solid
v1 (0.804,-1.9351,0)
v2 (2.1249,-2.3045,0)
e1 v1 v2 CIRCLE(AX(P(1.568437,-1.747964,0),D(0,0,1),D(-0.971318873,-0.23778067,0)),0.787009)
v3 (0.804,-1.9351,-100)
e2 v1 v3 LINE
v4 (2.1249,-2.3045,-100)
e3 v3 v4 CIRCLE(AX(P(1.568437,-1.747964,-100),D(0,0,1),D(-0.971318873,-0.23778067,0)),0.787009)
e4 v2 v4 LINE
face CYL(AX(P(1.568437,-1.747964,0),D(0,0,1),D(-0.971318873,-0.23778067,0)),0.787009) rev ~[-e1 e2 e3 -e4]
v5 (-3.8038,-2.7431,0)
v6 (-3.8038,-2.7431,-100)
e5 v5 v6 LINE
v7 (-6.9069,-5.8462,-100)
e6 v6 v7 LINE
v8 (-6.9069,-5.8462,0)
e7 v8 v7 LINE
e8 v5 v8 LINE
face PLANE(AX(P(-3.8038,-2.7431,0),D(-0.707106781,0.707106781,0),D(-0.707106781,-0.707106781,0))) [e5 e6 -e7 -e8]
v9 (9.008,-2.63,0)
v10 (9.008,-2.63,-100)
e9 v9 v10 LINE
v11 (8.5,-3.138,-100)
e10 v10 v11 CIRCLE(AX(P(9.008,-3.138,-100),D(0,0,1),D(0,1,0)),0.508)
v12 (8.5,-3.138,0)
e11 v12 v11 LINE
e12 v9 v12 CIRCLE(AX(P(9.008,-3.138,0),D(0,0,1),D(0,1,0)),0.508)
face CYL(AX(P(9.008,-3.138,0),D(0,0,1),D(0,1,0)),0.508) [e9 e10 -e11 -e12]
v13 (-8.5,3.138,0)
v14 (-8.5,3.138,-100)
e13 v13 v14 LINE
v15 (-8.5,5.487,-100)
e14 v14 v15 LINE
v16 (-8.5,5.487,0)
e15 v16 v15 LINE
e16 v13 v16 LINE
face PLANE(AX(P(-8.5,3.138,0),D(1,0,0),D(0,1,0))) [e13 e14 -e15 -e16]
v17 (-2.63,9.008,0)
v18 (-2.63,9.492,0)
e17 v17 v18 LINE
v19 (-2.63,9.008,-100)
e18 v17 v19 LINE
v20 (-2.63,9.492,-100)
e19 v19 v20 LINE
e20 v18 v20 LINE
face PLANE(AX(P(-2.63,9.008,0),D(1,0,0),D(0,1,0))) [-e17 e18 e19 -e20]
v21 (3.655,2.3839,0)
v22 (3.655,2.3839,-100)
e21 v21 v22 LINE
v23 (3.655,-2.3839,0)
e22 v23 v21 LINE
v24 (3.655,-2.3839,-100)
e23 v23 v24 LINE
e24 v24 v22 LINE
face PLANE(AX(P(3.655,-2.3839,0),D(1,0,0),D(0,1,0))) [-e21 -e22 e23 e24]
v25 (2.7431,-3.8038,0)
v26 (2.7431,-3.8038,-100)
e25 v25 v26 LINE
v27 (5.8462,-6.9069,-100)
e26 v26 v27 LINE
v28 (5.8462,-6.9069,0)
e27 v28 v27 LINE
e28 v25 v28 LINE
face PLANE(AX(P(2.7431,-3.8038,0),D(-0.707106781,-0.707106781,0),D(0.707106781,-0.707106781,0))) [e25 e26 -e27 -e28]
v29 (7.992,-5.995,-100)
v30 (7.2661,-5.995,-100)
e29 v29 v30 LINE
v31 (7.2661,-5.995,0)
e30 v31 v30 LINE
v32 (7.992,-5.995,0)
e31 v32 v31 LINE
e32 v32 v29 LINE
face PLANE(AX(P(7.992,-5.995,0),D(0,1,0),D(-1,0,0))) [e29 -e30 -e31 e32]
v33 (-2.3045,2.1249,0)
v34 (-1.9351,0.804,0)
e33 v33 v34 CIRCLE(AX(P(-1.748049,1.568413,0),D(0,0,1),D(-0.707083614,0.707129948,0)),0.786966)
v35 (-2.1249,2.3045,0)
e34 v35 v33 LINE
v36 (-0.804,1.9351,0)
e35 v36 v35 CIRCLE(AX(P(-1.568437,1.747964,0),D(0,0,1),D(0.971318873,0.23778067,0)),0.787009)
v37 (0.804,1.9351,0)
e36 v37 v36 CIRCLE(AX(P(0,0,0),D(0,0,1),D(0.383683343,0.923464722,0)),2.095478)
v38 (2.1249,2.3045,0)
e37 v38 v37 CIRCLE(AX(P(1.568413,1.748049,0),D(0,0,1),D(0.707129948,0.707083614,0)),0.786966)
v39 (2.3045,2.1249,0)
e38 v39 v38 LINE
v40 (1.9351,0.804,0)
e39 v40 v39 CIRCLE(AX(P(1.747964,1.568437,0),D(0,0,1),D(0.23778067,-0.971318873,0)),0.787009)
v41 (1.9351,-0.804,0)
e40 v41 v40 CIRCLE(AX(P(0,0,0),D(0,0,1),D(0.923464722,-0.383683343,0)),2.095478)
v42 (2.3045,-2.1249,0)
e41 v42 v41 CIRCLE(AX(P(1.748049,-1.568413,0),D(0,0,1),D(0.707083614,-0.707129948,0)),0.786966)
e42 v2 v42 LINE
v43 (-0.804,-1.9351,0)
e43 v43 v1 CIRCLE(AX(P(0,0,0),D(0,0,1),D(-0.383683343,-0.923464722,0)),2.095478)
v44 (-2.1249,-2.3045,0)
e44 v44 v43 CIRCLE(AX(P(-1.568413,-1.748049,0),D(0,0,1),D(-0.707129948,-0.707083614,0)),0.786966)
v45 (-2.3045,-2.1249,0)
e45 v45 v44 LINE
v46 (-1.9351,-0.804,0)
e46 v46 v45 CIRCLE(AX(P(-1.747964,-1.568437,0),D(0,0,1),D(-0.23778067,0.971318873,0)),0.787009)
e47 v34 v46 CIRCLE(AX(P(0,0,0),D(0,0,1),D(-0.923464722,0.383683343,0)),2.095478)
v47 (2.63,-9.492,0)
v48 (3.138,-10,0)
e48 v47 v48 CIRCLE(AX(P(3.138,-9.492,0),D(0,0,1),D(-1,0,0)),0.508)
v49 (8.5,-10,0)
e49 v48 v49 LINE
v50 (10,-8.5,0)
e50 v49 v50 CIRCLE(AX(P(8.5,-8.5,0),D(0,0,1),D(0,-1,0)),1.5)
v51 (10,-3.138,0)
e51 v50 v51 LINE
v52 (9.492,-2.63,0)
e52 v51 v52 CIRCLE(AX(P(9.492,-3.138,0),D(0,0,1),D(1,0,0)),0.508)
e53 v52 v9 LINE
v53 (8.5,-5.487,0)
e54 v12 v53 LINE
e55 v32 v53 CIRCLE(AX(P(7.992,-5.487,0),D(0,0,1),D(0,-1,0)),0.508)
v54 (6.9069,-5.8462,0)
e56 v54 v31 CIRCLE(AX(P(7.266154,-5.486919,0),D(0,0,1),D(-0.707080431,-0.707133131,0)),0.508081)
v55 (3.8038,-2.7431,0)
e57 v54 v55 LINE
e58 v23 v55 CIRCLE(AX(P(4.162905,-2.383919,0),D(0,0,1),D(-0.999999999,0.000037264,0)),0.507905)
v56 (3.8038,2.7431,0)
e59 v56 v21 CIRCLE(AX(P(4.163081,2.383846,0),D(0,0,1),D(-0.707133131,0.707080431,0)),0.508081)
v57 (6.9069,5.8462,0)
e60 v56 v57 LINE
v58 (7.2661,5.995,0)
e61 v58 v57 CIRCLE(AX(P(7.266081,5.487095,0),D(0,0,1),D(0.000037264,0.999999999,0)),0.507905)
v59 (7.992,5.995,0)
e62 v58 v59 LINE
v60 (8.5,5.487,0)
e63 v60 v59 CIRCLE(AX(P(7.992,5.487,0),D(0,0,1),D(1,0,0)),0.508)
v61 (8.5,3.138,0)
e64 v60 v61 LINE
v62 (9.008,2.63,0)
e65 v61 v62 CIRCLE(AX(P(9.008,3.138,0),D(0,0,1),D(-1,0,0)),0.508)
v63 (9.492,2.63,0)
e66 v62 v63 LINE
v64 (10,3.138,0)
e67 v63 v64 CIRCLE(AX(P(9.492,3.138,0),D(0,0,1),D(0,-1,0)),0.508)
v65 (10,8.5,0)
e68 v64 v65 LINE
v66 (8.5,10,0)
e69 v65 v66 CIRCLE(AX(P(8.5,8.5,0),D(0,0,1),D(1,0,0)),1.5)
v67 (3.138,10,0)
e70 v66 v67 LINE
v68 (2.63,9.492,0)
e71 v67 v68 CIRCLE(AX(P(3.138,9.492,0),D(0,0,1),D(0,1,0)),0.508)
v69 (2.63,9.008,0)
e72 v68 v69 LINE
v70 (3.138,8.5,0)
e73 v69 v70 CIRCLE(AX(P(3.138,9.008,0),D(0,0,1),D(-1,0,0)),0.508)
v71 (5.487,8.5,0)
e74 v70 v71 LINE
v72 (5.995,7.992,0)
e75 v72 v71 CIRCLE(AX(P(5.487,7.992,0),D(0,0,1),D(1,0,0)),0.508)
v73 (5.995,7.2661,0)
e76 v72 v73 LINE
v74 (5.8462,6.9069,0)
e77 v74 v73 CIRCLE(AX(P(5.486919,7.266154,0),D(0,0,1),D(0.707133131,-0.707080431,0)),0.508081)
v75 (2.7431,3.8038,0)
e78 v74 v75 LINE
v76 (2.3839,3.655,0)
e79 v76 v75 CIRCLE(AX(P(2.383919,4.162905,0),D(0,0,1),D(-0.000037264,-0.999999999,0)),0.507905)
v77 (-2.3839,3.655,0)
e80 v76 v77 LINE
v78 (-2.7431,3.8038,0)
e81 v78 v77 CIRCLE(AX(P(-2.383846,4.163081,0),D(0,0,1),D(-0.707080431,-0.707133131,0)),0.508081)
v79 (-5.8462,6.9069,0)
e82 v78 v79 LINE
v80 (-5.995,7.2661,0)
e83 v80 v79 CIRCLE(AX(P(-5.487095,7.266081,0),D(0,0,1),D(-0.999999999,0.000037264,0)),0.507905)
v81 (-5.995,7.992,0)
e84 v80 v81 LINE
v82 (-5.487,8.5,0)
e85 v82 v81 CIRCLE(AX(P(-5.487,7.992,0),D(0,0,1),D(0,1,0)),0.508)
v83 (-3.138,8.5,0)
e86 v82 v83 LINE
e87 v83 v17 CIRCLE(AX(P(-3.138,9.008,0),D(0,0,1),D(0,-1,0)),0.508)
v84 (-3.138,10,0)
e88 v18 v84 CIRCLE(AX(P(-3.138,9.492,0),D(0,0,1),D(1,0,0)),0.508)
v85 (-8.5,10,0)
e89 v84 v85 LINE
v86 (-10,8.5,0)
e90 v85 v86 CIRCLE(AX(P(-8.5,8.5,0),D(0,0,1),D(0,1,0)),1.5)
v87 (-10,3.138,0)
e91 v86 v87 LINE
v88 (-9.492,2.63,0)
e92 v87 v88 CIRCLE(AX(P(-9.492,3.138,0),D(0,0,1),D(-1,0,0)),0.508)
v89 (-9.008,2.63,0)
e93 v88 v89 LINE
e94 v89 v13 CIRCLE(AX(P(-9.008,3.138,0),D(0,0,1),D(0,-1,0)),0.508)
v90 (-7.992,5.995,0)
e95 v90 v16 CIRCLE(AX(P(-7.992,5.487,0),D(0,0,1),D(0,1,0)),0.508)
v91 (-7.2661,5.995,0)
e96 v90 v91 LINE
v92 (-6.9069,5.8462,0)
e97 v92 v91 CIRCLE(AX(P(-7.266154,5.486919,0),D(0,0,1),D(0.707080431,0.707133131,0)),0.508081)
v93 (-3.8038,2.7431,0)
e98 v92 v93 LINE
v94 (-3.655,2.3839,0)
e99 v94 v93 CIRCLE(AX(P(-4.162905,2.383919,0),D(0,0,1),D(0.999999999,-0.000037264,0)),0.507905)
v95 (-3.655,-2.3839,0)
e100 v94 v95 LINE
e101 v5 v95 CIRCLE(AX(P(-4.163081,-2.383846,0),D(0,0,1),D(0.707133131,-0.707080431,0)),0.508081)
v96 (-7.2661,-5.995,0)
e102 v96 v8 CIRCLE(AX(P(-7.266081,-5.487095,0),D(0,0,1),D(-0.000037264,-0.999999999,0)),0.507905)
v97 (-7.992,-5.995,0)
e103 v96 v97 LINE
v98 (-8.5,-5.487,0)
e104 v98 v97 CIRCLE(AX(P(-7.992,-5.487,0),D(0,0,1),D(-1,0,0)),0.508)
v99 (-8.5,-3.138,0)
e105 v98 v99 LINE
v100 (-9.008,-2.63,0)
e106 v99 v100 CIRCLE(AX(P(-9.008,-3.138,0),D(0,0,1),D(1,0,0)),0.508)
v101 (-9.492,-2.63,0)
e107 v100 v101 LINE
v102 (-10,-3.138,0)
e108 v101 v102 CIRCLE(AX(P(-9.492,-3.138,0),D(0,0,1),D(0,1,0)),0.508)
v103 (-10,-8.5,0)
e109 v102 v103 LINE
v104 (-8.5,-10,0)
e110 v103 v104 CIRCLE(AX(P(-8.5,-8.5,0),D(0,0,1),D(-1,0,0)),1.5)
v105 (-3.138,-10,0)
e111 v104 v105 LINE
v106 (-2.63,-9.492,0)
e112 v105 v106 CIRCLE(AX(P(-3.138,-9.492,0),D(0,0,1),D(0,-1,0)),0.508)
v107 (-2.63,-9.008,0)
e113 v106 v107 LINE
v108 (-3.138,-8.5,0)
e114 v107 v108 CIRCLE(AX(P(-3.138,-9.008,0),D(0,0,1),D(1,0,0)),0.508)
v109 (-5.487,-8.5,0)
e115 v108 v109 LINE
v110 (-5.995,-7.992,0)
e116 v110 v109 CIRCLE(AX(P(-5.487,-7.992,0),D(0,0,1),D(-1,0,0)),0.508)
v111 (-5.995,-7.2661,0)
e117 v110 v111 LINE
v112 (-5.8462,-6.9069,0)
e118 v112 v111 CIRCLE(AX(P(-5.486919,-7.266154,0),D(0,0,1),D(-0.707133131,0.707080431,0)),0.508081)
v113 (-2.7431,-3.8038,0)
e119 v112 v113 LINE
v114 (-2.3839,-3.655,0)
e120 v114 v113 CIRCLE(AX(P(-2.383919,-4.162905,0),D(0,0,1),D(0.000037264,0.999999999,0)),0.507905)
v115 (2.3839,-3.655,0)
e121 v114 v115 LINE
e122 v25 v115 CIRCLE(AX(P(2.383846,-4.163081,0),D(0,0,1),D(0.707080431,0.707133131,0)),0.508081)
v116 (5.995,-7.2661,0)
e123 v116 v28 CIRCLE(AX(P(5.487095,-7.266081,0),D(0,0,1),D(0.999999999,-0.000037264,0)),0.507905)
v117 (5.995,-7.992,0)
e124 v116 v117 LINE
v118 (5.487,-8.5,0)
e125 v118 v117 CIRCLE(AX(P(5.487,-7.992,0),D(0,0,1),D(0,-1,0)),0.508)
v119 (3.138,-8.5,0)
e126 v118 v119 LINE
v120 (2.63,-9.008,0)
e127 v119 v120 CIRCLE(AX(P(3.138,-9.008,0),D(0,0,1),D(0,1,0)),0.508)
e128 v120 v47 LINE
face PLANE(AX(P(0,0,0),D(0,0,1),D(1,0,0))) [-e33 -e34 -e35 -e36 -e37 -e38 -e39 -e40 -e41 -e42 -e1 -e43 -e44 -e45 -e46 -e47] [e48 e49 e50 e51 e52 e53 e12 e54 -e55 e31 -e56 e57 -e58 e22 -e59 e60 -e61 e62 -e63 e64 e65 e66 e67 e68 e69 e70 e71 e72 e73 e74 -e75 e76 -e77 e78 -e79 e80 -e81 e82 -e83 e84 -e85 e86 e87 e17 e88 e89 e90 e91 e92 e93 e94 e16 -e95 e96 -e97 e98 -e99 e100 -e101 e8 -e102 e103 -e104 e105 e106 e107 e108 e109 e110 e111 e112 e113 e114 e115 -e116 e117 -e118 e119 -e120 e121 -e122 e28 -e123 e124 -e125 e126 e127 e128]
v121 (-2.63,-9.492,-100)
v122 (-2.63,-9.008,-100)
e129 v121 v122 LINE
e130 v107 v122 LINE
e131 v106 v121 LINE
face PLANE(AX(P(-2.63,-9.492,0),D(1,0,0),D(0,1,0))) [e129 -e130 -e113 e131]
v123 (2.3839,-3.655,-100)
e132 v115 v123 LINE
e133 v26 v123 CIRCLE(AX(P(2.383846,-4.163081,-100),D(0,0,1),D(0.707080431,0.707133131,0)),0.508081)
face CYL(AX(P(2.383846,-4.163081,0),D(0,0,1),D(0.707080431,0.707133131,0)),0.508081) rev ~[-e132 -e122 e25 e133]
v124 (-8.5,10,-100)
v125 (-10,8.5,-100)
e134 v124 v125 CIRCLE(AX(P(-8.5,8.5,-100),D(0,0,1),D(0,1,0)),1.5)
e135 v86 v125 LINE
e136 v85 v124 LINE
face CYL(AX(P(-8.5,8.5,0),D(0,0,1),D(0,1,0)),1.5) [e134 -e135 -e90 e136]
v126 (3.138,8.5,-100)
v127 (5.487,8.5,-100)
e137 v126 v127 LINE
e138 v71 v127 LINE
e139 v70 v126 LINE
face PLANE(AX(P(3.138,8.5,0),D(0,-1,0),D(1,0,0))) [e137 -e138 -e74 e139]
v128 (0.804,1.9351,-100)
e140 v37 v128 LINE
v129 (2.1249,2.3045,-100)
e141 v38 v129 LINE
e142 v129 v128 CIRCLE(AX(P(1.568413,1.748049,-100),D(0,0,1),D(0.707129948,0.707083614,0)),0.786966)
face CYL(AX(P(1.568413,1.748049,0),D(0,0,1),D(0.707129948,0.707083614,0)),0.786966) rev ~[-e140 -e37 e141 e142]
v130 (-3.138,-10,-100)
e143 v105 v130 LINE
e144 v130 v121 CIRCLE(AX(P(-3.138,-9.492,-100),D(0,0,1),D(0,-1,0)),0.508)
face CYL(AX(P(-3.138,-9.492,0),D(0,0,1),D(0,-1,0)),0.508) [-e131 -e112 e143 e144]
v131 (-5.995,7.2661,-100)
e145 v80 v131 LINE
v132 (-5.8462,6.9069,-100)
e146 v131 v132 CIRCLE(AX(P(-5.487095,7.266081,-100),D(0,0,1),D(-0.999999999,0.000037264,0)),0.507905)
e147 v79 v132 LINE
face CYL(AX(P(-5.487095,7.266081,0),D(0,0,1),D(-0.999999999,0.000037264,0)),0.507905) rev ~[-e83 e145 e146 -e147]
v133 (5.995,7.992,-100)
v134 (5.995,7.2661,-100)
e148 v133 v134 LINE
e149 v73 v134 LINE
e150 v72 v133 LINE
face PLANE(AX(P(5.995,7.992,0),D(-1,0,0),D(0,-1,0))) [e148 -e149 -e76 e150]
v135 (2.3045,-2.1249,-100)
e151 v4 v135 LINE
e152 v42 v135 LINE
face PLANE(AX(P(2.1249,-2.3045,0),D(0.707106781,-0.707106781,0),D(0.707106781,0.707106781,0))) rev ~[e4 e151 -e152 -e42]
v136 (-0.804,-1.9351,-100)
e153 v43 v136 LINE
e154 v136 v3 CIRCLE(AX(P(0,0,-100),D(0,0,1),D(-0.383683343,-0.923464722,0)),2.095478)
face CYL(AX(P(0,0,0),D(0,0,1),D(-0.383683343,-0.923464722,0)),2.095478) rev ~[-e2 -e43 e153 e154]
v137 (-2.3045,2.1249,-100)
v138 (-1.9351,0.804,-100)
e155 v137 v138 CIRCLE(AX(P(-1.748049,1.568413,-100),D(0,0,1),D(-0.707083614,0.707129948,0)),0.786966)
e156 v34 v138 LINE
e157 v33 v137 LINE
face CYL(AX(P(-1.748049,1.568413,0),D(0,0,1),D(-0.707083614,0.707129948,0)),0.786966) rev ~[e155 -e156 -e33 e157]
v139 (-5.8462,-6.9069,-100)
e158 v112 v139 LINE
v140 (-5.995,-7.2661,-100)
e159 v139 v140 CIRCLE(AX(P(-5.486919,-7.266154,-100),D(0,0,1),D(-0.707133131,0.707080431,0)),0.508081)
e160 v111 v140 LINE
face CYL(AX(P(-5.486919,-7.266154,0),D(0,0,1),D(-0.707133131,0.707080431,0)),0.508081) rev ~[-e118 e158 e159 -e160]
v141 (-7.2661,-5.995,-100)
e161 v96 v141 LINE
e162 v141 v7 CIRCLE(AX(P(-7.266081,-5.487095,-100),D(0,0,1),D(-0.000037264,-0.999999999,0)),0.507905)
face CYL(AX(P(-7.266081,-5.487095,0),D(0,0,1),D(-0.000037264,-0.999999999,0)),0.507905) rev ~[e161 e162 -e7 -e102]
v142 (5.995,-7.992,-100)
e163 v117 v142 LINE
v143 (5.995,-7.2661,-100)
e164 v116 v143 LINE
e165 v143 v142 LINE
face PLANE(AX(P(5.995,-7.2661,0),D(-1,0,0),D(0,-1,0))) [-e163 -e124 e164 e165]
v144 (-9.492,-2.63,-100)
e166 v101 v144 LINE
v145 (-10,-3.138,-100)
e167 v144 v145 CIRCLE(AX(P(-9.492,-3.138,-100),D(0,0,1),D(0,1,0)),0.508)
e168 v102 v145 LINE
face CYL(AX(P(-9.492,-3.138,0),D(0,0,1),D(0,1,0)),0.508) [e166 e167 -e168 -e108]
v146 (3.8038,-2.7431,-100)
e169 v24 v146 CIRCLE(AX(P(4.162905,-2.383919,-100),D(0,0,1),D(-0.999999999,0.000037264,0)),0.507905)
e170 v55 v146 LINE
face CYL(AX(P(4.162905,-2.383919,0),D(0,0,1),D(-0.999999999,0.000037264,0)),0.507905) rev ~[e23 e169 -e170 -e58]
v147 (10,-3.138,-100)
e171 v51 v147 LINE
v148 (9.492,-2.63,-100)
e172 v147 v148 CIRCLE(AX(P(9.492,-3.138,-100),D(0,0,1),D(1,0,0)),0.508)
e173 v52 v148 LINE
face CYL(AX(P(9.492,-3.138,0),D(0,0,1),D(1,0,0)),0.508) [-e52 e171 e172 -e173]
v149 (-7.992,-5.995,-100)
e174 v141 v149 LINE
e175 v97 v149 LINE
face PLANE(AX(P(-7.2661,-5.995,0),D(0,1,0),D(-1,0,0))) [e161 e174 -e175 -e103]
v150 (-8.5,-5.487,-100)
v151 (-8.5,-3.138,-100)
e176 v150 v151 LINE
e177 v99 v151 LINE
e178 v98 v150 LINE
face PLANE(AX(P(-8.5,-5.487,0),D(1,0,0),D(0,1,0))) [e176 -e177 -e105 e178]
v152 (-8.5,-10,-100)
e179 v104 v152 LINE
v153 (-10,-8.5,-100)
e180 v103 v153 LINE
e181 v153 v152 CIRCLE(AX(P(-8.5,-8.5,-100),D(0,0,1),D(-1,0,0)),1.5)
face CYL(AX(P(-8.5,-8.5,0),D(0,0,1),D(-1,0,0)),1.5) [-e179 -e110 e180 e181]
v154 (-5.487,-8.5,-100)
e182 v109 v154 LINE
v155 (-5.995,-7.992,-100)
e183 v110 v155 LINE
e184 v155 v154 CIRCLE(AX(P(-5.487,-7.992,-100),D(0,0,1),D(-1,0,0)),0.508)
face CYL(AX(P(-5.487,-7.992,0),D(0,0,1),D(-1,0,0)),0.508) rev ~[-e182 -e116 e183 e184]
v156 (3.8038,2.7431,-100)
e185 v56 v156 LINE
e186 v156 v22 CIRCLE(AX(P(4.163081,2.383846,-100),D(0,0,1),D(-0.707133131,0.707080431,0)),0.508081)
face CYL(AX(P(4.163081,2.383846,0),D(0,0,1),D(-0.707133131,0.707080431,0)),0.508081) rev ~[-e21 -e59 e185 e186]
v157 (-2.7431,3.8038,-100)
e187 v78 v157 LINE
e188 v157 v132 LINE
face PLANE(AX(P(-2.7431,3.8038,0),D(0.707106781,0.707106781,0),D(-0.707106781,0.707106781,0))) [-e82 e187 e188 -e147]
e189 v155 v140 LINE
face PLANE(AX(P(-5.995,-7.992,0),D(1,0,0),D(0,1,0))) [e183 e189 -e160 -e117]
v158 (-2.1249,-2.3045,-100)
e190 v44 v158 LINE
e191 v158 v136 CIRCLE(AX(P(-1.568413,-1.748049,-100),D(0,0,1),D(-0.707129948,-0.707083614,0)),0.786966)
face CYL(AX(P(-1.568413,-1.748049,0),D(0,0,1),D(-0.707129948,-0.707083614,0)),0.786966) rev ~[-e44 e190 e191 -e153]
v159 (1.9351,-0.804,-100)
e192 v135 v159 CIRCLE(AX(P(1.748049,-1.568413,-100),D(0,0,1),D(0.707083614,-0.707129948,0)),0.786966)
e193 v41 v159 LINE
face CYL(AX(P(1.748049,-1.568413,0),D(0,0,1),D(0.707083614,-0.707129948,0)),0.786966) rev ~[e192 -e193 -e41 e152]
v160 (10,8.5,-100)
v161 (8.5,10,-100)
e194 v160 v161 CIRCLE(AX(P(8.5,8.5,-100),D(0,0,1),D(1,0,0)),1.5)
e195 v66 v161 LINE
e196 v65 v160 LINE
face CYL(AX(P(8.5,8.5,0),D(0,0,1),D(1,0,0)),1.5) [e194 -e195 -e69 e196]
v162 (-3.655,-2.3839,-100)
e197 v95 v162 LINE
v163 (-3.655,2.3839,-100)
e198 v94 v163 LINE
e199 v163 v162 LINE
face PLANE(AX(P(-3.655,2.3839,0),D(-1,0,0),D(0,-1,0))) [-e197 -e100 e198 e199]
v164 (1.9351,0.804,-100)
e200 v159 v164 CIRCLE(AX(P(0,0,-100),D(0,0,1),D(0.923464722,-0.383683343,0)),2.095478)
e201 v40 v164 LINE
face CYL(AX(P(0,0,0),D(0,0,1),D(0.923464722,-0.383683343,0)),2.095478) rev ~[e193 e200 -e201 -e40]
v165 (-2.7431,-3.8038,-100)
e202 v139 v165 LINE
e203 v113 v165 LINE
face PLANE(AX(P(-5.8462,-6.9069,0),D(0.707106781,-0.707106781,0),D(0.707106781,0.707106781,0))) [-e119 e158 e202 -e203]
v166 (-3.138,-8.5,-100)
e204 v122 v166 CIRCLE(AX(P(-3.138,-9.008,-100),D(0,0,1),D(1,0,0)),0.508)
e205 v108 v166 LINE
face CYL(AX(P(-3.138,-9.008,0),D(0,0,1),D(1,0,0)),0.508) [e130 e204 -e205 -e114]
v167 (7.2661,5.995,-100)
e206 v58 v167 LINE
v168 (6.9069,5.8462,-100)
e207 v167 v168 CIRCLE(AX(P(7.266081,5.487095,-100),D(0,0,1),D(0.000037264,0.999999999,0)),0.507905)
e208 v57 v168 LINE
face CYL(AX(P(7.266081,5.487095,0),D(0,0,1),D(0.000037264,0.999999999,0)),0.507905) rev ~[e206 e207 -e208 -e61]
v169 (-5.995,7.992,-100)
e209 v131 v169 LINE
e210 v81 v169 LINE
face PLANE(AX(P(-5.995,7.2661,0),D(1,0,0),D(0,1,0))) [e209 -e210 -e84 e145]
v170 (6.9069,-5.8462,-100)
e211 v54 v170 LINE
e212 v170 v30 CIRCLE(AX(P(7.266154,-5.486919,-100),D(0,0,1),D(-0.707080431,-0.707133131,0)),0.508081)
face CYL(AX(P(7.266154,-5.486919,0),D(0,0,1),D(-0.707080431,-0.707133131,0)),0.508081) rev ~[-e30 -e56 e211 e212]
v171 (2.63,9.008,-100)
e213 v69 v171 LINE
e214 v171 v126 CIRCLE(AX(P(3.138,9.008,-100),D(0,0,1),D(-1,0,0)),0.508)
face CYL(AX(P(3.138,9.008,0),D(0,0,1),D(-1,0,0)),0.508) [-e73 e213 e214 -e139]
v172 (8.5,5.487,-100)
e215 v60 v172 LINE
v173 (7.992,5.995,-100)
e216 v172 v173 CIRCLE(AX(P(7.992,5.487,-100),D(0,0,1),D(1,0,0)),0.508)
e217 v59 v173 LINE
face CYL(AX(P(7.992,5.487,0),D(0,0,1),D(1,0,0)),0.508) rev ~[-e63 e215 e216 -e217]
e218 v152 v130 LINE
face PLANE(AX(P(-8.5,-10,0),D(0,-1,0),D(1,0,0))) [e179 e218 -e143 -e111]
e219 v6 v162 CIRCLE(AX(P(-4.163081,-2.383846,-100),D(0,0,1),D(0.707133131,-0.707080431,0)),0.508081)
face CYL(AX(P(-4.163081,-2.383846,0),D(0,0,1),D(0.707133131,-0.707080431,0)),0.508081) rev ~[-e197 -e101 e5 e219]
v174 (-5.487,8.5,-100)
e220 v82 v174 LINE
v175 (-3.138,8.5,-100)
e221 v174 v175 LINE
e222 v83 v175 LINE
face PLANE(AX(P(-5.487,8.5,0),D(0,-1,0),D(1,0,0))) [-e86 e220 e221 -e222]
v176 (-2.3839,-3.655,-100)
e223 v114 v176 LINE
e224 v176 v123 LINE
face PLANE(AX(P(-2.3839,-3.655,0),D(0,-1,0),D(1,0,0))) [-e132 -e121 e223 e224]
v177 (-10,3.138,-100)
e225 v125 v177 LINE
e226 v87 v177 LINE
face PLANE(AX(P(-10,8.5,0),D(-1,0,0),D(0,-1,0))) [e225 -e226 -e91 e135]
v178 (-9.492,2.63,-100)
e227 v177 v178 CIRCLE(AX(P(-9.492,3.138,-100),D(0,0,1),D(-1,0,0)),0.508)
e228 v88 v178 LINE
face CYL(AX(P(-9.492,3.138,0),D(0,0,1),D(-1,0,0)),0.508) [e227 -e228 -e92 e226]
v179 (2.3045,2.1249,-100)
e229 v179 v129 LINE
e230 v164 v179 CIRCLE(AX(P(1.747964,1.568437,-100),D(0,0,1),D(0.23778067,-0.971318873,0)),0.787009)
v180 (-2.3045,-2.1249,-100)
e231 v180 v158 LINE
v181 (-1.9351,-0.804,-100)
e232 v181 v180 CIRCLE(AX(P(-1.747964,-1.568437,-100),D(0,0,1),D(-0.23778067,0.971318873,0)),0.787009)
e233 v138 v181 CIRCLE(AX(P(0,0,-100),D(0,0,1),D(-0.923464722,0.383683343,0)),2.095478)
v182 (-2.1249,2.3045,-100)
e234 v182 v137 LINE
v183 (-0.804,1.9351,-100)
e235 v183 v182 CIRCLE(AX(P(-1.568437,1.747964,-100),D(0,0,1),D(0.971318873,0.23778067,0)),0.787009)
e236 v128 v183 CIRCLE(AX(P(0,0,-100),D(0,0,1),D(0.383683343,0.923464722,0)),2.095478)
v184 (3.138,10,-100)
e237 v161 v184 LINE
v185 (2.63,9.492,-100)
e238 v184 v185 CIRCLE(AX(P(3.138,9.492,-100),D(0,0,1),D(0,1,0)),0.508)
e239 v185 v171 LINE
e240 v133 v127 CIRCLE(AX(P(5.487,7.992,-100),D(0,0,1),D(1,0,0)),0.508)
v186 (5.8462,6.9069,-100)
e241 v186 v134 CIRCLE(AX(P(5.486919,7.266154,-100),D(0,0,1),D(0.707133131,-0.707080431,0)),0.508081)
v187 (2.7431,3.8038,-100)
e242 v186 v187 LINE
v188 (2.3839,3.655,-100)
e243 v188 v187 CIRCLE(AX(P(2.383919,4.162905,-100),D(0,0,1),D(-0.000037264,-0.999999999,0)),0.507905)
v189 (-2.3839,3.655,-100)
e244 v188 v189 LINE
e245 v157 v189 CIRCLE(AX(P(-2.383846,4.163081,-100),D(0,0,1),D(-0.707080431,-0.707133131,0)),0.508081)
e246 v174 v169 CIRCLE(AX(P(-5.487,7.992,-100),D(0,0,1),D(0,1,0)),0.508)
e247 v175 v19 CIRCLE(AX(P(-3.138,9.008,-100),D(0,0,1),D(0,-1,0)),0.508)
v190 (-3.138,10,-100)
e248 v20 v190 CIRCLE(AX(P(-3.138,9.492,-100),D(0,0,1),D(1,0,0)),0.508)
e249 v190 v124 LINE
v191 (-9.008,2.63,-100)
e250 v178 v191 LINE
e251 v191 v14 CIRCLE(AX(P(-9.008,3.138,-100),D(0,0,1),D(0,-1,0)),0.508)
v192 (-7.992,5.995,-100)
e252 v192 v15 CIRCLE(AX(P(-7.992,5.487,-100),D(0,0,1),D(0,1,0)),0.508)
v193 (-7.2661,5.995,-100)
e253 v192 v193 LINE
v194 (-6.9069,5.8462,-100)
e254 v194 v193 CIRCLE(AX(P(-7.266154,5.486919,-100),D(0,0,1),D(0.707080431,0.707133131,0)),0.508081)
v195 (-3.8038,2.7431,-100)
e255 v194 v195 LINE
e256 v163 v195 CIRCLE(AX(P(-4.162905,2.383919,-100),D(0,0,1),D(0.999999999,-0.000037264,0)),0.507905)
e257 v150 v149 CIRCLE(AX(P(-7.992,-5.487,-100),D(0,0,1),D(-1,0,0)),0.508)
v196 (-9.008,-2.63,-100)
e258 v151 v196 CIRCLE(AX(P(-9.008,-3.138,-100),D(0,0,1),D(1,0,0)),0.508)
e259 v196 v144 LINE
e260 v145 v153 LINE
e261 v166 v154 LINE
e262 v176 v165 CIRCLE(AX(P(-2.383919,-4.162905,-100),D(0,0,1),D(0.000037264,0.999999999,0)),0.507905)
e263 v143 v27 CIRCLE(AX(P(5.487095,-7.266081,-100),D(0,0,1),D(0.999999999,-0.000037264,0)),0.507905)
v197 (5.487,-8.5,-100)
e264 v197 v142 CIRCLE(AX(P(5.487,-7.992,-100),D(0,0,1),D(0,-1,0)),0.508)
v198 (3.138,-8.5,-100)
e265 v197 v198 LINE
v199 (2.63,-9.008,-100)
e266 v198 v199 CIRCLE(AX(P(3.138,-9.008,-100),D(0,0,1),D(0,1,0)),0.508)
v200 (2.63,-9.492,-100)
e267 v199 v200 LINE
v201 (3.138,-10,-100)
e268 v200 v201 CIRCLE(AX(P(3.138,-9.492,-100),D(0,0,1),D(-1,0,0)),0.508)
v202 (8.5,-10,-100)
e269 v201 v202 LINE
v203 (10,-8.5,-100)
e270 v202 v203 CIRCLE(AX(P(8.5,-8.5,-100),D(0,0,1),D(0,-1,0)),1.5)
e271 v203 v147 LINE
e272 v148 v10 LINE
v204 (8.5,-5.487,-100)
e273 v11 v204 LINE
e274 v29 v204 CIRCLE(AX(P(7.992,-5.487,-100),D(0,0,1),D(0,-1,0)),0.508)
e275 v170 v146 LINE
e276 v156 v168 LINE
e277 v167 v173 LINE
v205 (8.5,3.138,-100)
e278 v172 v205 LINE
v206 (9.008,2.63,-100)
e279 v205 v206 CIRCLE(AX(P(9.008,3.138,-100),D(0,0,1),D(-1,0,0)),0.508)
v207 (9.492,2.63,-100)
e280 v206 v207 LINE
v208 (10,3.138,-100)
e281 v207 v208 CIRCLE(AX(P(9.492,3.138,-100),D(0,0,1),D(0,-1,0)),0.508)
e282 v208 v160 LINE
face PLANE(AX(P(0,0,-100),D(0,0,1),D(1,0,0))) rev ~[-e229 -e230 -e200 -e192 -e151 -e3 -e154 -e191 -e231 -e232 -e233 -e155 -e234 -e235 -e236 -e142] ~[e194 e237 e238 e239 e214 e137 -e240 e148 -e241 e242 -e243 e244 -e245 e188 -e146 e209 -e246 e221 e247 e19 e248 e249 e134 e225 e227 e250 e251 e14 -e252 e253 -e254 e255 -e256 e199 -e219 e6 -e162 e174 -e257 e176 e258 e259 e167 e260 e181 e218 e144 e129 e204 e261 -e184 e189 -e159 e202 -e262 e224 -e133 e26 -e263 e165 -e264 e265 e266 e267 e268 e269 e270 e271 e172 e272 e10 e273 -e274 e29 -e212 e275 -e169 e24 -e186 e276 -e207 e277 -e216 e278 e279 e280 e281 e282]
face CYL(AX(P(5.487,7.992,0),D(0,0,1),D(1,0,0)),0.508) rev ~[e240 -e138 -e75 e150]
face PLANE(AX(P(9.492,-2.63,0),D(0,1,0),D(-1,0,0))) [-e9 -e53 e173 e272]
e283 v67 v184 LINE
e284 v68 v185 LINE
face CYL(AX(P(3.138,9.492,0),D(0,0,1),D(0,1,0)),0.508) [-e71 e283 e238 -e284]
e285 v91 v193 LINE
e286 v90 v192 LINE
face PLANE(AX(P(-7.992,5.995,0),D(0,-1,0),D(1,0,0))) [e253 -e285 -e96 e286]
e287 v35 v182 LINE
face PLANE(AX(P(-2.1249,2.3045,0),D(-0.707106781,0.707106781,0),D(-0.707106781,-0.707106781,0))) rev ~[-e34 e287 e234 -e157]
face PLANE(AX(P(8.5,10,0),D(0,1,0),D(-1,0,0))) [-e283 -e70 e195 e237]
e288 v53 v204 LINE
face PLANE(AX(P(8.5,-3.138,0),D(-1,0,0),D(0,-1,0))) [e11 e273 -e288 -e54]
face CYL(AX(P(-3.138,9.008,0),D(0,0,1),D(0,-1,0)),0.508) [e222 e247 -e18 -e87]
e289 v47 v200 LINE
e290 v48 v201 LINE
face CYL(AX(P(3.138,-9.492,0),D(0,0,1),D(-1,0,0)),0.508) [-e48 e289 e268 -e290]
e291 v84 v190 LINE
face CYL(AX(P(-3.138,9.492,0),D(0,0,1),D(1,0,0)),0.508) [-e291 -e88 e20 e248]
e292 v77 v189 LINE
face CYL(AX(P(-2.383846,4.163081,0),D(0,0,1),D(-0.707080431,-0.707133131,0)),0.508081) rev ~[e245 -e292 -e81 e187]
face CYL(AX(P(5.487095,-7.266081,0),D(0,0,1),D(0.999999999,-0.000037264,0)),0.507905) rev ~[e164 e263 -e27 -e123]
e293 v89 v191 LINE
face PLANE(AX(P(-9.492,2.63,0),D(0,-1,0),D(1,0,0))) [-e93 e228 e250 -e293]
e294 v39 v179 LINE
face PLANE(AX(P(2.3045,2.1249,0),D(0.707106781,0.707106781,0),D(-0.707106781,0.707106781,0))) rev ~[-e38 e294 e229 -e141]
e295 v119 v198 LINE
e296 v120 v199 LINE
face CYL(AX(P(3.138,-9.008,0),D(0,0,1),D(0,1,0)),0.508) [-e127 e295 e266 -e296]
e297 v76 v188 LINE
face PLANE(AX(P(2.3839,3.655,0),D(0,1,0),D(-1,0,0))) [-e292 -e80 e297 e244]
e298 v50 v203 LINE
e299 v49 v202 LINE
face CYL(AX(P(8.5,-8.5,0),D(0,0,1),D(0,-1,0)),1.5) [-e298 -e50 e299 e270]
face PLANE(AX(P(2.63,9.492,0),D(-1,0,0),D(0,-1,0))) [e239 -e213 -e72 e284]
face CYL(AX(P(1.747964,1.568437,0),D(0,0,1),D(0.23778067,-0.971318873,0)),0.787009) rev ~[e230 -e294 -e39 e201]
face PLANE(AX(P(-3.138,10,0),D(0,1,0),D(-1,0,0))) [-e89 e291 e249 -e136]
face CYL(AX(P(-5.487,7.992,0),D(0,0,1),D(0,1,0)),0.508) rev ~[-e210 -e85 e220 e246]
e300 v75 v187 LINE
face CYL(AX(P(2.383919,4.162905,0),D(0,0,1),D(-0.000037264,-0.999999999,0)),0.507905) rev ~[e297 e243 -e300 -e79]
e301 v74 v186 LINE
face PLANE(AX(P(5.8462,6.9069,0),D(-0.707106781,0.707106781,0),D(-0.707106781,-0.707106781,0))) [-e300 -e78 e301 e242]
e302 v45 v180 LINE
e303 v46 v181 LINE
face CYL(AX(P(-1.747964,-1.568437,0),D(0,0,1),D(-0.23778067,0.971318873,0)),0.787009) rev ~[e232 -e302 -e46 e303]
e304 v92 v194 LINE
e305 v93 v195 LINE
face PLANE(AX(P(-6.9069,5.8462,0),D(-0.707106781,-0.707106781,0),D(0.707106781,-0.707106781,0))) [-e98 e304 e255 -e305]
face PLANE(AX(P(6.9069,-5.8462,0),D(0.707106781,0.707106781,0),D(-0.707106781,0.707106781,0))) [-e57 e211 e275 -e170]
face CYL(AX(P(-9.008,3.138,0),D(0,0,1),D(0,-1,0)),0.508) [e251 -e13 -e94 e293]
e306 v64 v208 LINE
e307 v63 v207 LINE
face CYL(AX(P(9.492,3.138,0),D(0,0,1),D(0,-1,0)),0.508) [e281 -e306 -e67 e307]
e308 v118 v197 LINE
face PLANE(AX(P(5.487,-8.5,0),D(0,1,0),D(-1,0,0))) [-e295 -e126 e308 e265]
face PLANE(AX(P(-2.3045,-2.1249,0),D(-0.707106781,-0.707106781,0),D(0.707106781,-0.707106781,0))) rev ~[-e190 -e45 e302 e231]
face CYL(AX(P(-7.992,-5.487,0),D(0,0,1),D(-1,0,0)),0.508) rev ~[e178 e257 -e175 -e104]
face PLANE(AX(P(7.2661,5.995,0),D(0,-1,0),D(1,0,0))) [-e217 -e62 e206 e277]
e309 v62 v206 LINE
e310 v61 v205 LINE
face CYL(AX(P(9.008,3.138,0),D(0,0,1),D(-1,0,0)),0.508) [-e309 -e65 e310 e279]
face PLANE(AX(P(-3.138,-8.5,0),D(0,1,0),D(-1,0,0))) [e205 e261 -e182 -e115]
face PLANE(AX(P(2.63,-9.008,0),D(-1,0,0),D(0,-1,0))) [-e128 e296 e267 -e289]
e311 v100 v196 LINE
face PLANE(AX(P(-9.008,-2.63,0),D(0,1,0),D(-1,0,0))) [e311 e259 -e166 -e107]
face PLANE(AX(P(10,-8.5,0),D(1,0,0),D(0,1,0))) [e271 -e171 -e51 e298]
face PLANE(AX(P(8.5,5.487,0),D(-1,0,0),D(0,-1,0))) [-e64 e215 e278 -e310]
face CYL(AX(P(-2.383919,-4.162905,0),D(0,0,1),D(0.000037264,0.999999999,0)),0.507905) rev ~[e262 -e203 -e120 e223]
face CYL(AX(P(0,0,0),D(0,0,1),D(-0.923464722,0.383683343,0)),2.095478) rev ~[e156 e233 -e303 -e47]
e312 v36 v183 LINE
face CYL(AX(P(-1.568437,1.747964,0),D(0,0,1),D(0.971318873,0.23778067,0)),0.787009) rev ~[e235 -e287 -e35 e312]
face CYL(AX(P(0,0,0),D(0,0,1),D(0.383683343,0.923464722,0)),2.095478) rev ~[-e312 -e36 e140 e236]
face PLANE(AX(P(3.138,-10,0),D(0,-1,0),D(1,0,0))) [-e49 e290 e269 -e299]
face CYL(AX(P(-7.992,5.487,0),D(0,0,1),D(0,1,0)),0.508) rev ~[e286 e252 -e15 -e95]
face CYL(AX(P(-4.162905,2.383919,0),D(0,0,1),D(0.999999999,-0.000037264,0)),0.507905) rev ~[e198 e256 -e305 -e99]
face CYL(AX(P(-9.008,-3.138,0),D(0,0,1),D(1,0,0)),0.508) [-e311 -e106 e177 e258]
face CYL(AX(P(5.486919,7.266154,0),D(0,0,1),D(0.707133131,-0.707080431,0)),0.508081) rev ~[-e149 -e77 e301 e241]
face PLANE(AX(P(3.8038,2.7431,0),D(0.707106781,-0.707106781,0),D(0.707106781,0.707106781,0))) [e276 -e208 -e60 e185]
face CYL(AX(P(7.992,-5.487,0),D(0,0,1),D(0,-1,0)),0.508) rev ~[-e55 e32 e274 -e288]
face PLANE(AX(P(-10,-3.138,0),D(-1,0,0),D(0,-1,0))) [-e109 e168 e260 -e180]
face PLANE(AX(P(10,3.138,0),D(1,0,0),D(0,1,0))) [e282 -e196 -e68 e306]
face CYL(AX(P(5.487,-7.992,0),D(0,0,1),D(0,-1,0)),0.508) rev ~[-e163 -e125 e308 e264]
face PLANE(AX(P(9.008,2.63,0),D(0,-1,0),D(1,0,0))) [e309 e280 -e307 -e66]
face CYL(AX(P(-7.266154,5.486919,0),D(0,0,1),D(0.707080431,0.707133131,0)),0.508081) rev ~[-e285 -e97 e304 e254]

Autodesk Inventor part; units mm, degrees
ref_plane "YZ Plane" through (0, 0, 0) normal (1, 0, 0) x (0, 1, 0)
ref_plane "XZ Plane" through (0, 0, 0) normal (0, 1, 0) x (-1, 0, 0)
ref_plane "XY Plane" through (0, 0, 0) normal (0, 0, 1) x (1, 0, 0)
sketch "Sketch1" plane through (0, 0, 0) normal (0, 0, 1) x (1, 0, 0)
  arc A0 (-2.1249, -2.3045) -> (-0.804, -1.9351) centre (-1.5684, -1.748) ccw
  line L0 (-2.3045, -2.1249) -> (-2.1249, -2.3045)
  arc A1 (-1.9351, -0.804) -> (-2.3045, -2.1249) centre (-1.748, -1.5684) ccw
  arc A2 (-1.9351, 0.804) -> (-1.9351, -0.804) centre (0, 0) ccw
  arc A3 (-2.3045, 2.1249) -> (-1.9351, 0.804) centre (-1.748, 1.5684) ccw
  line L1 (-2.1249, 2.3045) -> (-2.3045, 2.1249)
  arc A4 (-0.804, 1.9351) -> (-2.1249, 2.3045) centre (-1.5684, 1.748) ccw
  arc A5 (0.804, 1.9351) -> (-0.804, 1.9351) centre (0, 0) ccw
  arc A6 (2.1249, 2.3045) -> (0.804, 1.9351) centre (1.5684, 1.748) ccw
  line L2 (2.3045, 2.1249) -> (2.1249, 2.3045)
  arc A7 (1.9351, 0.804) -> (2.3045, 2.1249) centre (1.748, 1.5684) ccw
  arc A8 (1.9351, -0.804) -> (1.9351, 0.804) centre (0, 0) ccw
  arc A9 (2.3045, -2.1249) -> (1.9351, -0.804) centre (1.748, -1.5684) ccw
  line L3 (2.1249, -2.3045) -> (2.3045, -2.1249)
  arc A10 (0.804, -1.9351) -> (2.1249, -2.3045) centre (1.5684, -1.748) ccw
  arc A11 (-0.804, -1.9351) -> (0.804, -1.9351) centre (0, 0) ccw
  arc A12 (9.492, 2.63) -> (10, 3.138) centre (9.492, 3.138) ccw
  line L4 (10, 3.138) -> (10, 8.5)
  arc A13 (10, 8.5) -> (8.5, 10) centre (8.5, 8.5) ccw
  line L5 (8.5, 10) -> (3.138, 10)
  arc A14 (3.138, 10) -> (2.63, 9.492) centre (3.138, 9.492) ccw
  line L6 (2.63, 9.492) -> (2.63, 9.008)
  arc A15 (2.63, 9.008) -> (3.138, 8.5) centre (3.138, 9.008) ccw
  line L7 (3.138, 8.5) -> (5.487, 8.5)
  arc A16 (5.995, 7.992) -> (5.487, 8.5) centre (5.487, 7.992) ccw
  line L8 (5.995, 7.992) -> (5.995, 7.2661)
  arc A17 (5.8462, 6.9069) -> (5.995, 7.2661) centre (5.487, 7.2661) ccw
  line L9 (5.8462, 6.9069) -> (2.7431, 3.8038)
  arc A18 (2.3839, 3.655) -> (2.7431, 3.8038) centre (2.3839, 4.163) ccw
  line L10 (2.3839, 3.655) -> (-2.3839, 3.655)
  arc A19 (-2.7431, 3.8038) -> (-2.3839, 3.655) centre (-2.3839, 4.163) ccw
  line L11 (-2.7431, 3.8038) -> (-5.8462, 6.9069)
  arc A20 (-5.995, 7.2661) -> (-5.8462, 6.9069) centre (-5.487, 7.2661) ccw
  line L12 (-5.995, 7.2661) -> (-5.995, 7.992)
  arc A21 (-5.487, 8.5) -> (-5.995, 7.992) centre (-5.487, 7.992) ccw
  line L13 (-5.487, 8.5) -> (-3.138, 8.5)
  arc A22 (-3.138, 8.5) -> (-2.63, 9.008) centre (-3.138, 9.008) ccw
  line L14 (-2.63, 9.008) -> (-2.63, 9.492)
  arc A23 (-2.63, 9.492) -> (-3.138, 10) centre (-3.138, 9.492) ccw
  line L15 (-3.138, 10) -> (-8.5, 10)
  arc A24 (-8.5, 10) -> (-10, 8.5) centre (-8.5, 8.5) ccw
  line L16 (-10, 8.5) -> (-10, 3.138)
  arc A25 (-10, 3.138) -> (-9.492, 2.63) centre (-9.492, 3.138) ccw
  line L17 (-9.492, 2.63) -> (-9.008, 2.63)
  arc A26 (-9.008, 2.63) -> (-8.5, 3.138) centre (-9.008, 3.138) ccw
  line L18 (-8.5, 3.138) -> (-8.5, 5.487)
  arc A27 (-7.992, 5.995) -> (-8.5, 5.487) centre (-7.992, 5.487) ccw
  line L19 (-7.992, 5.995) -> (-7.2661, 5.995)
  arc A28 (-6.9069, 5.8462) -> (-7.2661, 5.995) centre (-7.2661, 5.487) ccw
  line L20 (-6.9069, 5.8462) -> (-3.8038, 2.7431)
  arc A29 (-3.655, 2.3839) -> (-3.8038, 2.7431) centre (-4.163, 2.3839) ccw
  line L21 (-3.655, 2.3839) -> (-3.655, -2.3839)
  arc A30 (-3.8038, -2.7431) -> (-3.655, -2.3839) centre (-4.163, -2.3839) ccw
  line L22 (-3.8038, -2.7431) -> (-6.9069, -5.8462)
  arc A31 (-7.2661, -5.995) -> (-6.9069, -5.8462) centre (-7.2661, -5.487) ccw
  line L23 (-7.2661, -5.995) -> (-7.992, -5.995)
  arc A32 (-8.5, -5.487) -> (-7.992, -5.995) centre (-7.992, -5.487) ccw
  line L24 (-8.5, -5.487) -> (-8.5, -3.138)
  arc A33 (-8.5, -3.138) -> (-9.008, -2.63) centre (-9.008, -3.138) ccw
  line L25 (-9.008, -2.63) -> (-9.492, -2.63)
  arc A34 (-9.492, -2.63) -> (-10, -3.138) centre (-9.492, -3.138) ccw
  line L26 (-10, -3.138) -> (-10, -8.5)
  arc A35 (-10, -8.5) -> (-8.5, -10) centre (-8.5, -8.5) ccw
  line L27 (-8.5, -10) -> (-3.138, -10)
  arc A36 (-3.138, -10) -> (-2.63, -9.492) centre (-3.138, -9.492) ccw
  line L28 (-2.63, -9.492) -> (-2.63, -9.008)
  arc A37 (-2.63, -9.008) -> (-3.138, -8.5) centre (-3.138, -9.008) ccw
  line L29 (-3.138, -8.5) -> (-5.487, -8.5)
  arc A38 (-5.995, -7.992) -> (-5.487, -8.5) centre (-5.487, -7.992) ccw
  line L30 (-5.995, -7.992) -> (-5.995, -7.2661)
  arc A39 (-5.8462, -6.9069) -> (-5.995, -7.2661) centre (-5.487, -7.2661) ccw
  line L31 (-5.8462, -6.9069) -> (-2.7431, -3.8038)
  arc A40 (-2.3839, -3.655) -> (-2.7431, -3.8038) centre (-2.3839, -4.163) ccw
  line L32 (-2.3839, -3.655) -> (2.3839, -3.655)
  arc A41 (2.7431, -3.8038) -> (2.3839, -3.655) centre (2.3839, -4.163) ccw
  line L33 (2.7431, -3.8038) -> (5.8462, -6.9069)
  arc A42 (5.995, -7.2661) -> (5.8462, -6.9069) centre (5.487, -7.2661) ccw
  line L34 (5.995, -7.2661) -> (5.995, -7.992)
  arc A43 (5.487, -8.5) -> (5.995, -7.992) centre (5.487, -7.992) ccw
  line L35 (5.487, -8.5) -> (3.138, -8.5)
  arc A44 (3.138, -8.5) -> (2.63, -9.008) centre (3.138, -9.008) ccw
  line L36 (2.63, -9.008) -> (2.63, -9.492)
  arc A45 (2.63, -9.492) -> (3.138, -10) centre (3.138, -9.492) ccw
  line L37 (3.138, -10) -> (8.5, -10)
  arc A46 (8.5, -10) -> (10, -8.5) centre (8.5, -8.5) ccw
  line L38 (10, -8.5) -> (10, -3.138)
  arc A47 (10, -3.138) -> (9.492, -2.63) centre (9.492, -3.138) ccw
  line L39 (9.492, -2.63) -> (9.008, -2.63)
  arc A48 (9.008, -2.63) -> (8.5, -3.138) centre (9.008, -3.138) ccw
  line L40 (8.5, -3.138) -> (8.5, -5.487)
  arc A49 (7.992, -5.995) -> (8.5, -5.487) centre (7.992, -5.487) ccw
  line L41 (7.992, -5.995) -> (7.2661, -5.995)
  arc A50 (6.9069, -5.8462) -> (7.2661, -5.995) centre (7.2661, -5.487) ccw
  line L42 (6.9069, -5.8462) -> (3.8038, -2.7431)
  arc A51 (3.655, -2.3839) -> (3.8038, -2.7431) centre (4.163, -2.3839) ccw
  line L43 (3.655, -2.3839) -> (3.655, 2.3839)
  arc A52 (3.8038, 2.7431) -> (3.655, 2.3839) centre (4.163, 2.3839) ccw
  line L44 (3.8038, 2.7431) -> (6.9069, 5.8462)
  arc A53 (7.2661, 5.995) -> (6.9069, 5.8462) centre (7.2661, 5.487) ccw
  line L45 (7.2661, 5.995) -> (7.992, 5.995)
  arc A54 (8.5, 5.487) -> (7.992, 5.995) centre (7.992, 5.487) ccw
  line L46 (8.5, 5.487) -> (8.5, 3.138)
  arc A55 (8.5, 3.138) -> (9.008, 2.63) centre (9.008, 3.138) ccw
  line L47 (9.008, 2.63) -> (9.492, 2.63)
extrude "Extrusion1" add sketch "Sketch1" against normal blind 100
properties part number "20-2020" material "Aluminum 6105 T-5"
